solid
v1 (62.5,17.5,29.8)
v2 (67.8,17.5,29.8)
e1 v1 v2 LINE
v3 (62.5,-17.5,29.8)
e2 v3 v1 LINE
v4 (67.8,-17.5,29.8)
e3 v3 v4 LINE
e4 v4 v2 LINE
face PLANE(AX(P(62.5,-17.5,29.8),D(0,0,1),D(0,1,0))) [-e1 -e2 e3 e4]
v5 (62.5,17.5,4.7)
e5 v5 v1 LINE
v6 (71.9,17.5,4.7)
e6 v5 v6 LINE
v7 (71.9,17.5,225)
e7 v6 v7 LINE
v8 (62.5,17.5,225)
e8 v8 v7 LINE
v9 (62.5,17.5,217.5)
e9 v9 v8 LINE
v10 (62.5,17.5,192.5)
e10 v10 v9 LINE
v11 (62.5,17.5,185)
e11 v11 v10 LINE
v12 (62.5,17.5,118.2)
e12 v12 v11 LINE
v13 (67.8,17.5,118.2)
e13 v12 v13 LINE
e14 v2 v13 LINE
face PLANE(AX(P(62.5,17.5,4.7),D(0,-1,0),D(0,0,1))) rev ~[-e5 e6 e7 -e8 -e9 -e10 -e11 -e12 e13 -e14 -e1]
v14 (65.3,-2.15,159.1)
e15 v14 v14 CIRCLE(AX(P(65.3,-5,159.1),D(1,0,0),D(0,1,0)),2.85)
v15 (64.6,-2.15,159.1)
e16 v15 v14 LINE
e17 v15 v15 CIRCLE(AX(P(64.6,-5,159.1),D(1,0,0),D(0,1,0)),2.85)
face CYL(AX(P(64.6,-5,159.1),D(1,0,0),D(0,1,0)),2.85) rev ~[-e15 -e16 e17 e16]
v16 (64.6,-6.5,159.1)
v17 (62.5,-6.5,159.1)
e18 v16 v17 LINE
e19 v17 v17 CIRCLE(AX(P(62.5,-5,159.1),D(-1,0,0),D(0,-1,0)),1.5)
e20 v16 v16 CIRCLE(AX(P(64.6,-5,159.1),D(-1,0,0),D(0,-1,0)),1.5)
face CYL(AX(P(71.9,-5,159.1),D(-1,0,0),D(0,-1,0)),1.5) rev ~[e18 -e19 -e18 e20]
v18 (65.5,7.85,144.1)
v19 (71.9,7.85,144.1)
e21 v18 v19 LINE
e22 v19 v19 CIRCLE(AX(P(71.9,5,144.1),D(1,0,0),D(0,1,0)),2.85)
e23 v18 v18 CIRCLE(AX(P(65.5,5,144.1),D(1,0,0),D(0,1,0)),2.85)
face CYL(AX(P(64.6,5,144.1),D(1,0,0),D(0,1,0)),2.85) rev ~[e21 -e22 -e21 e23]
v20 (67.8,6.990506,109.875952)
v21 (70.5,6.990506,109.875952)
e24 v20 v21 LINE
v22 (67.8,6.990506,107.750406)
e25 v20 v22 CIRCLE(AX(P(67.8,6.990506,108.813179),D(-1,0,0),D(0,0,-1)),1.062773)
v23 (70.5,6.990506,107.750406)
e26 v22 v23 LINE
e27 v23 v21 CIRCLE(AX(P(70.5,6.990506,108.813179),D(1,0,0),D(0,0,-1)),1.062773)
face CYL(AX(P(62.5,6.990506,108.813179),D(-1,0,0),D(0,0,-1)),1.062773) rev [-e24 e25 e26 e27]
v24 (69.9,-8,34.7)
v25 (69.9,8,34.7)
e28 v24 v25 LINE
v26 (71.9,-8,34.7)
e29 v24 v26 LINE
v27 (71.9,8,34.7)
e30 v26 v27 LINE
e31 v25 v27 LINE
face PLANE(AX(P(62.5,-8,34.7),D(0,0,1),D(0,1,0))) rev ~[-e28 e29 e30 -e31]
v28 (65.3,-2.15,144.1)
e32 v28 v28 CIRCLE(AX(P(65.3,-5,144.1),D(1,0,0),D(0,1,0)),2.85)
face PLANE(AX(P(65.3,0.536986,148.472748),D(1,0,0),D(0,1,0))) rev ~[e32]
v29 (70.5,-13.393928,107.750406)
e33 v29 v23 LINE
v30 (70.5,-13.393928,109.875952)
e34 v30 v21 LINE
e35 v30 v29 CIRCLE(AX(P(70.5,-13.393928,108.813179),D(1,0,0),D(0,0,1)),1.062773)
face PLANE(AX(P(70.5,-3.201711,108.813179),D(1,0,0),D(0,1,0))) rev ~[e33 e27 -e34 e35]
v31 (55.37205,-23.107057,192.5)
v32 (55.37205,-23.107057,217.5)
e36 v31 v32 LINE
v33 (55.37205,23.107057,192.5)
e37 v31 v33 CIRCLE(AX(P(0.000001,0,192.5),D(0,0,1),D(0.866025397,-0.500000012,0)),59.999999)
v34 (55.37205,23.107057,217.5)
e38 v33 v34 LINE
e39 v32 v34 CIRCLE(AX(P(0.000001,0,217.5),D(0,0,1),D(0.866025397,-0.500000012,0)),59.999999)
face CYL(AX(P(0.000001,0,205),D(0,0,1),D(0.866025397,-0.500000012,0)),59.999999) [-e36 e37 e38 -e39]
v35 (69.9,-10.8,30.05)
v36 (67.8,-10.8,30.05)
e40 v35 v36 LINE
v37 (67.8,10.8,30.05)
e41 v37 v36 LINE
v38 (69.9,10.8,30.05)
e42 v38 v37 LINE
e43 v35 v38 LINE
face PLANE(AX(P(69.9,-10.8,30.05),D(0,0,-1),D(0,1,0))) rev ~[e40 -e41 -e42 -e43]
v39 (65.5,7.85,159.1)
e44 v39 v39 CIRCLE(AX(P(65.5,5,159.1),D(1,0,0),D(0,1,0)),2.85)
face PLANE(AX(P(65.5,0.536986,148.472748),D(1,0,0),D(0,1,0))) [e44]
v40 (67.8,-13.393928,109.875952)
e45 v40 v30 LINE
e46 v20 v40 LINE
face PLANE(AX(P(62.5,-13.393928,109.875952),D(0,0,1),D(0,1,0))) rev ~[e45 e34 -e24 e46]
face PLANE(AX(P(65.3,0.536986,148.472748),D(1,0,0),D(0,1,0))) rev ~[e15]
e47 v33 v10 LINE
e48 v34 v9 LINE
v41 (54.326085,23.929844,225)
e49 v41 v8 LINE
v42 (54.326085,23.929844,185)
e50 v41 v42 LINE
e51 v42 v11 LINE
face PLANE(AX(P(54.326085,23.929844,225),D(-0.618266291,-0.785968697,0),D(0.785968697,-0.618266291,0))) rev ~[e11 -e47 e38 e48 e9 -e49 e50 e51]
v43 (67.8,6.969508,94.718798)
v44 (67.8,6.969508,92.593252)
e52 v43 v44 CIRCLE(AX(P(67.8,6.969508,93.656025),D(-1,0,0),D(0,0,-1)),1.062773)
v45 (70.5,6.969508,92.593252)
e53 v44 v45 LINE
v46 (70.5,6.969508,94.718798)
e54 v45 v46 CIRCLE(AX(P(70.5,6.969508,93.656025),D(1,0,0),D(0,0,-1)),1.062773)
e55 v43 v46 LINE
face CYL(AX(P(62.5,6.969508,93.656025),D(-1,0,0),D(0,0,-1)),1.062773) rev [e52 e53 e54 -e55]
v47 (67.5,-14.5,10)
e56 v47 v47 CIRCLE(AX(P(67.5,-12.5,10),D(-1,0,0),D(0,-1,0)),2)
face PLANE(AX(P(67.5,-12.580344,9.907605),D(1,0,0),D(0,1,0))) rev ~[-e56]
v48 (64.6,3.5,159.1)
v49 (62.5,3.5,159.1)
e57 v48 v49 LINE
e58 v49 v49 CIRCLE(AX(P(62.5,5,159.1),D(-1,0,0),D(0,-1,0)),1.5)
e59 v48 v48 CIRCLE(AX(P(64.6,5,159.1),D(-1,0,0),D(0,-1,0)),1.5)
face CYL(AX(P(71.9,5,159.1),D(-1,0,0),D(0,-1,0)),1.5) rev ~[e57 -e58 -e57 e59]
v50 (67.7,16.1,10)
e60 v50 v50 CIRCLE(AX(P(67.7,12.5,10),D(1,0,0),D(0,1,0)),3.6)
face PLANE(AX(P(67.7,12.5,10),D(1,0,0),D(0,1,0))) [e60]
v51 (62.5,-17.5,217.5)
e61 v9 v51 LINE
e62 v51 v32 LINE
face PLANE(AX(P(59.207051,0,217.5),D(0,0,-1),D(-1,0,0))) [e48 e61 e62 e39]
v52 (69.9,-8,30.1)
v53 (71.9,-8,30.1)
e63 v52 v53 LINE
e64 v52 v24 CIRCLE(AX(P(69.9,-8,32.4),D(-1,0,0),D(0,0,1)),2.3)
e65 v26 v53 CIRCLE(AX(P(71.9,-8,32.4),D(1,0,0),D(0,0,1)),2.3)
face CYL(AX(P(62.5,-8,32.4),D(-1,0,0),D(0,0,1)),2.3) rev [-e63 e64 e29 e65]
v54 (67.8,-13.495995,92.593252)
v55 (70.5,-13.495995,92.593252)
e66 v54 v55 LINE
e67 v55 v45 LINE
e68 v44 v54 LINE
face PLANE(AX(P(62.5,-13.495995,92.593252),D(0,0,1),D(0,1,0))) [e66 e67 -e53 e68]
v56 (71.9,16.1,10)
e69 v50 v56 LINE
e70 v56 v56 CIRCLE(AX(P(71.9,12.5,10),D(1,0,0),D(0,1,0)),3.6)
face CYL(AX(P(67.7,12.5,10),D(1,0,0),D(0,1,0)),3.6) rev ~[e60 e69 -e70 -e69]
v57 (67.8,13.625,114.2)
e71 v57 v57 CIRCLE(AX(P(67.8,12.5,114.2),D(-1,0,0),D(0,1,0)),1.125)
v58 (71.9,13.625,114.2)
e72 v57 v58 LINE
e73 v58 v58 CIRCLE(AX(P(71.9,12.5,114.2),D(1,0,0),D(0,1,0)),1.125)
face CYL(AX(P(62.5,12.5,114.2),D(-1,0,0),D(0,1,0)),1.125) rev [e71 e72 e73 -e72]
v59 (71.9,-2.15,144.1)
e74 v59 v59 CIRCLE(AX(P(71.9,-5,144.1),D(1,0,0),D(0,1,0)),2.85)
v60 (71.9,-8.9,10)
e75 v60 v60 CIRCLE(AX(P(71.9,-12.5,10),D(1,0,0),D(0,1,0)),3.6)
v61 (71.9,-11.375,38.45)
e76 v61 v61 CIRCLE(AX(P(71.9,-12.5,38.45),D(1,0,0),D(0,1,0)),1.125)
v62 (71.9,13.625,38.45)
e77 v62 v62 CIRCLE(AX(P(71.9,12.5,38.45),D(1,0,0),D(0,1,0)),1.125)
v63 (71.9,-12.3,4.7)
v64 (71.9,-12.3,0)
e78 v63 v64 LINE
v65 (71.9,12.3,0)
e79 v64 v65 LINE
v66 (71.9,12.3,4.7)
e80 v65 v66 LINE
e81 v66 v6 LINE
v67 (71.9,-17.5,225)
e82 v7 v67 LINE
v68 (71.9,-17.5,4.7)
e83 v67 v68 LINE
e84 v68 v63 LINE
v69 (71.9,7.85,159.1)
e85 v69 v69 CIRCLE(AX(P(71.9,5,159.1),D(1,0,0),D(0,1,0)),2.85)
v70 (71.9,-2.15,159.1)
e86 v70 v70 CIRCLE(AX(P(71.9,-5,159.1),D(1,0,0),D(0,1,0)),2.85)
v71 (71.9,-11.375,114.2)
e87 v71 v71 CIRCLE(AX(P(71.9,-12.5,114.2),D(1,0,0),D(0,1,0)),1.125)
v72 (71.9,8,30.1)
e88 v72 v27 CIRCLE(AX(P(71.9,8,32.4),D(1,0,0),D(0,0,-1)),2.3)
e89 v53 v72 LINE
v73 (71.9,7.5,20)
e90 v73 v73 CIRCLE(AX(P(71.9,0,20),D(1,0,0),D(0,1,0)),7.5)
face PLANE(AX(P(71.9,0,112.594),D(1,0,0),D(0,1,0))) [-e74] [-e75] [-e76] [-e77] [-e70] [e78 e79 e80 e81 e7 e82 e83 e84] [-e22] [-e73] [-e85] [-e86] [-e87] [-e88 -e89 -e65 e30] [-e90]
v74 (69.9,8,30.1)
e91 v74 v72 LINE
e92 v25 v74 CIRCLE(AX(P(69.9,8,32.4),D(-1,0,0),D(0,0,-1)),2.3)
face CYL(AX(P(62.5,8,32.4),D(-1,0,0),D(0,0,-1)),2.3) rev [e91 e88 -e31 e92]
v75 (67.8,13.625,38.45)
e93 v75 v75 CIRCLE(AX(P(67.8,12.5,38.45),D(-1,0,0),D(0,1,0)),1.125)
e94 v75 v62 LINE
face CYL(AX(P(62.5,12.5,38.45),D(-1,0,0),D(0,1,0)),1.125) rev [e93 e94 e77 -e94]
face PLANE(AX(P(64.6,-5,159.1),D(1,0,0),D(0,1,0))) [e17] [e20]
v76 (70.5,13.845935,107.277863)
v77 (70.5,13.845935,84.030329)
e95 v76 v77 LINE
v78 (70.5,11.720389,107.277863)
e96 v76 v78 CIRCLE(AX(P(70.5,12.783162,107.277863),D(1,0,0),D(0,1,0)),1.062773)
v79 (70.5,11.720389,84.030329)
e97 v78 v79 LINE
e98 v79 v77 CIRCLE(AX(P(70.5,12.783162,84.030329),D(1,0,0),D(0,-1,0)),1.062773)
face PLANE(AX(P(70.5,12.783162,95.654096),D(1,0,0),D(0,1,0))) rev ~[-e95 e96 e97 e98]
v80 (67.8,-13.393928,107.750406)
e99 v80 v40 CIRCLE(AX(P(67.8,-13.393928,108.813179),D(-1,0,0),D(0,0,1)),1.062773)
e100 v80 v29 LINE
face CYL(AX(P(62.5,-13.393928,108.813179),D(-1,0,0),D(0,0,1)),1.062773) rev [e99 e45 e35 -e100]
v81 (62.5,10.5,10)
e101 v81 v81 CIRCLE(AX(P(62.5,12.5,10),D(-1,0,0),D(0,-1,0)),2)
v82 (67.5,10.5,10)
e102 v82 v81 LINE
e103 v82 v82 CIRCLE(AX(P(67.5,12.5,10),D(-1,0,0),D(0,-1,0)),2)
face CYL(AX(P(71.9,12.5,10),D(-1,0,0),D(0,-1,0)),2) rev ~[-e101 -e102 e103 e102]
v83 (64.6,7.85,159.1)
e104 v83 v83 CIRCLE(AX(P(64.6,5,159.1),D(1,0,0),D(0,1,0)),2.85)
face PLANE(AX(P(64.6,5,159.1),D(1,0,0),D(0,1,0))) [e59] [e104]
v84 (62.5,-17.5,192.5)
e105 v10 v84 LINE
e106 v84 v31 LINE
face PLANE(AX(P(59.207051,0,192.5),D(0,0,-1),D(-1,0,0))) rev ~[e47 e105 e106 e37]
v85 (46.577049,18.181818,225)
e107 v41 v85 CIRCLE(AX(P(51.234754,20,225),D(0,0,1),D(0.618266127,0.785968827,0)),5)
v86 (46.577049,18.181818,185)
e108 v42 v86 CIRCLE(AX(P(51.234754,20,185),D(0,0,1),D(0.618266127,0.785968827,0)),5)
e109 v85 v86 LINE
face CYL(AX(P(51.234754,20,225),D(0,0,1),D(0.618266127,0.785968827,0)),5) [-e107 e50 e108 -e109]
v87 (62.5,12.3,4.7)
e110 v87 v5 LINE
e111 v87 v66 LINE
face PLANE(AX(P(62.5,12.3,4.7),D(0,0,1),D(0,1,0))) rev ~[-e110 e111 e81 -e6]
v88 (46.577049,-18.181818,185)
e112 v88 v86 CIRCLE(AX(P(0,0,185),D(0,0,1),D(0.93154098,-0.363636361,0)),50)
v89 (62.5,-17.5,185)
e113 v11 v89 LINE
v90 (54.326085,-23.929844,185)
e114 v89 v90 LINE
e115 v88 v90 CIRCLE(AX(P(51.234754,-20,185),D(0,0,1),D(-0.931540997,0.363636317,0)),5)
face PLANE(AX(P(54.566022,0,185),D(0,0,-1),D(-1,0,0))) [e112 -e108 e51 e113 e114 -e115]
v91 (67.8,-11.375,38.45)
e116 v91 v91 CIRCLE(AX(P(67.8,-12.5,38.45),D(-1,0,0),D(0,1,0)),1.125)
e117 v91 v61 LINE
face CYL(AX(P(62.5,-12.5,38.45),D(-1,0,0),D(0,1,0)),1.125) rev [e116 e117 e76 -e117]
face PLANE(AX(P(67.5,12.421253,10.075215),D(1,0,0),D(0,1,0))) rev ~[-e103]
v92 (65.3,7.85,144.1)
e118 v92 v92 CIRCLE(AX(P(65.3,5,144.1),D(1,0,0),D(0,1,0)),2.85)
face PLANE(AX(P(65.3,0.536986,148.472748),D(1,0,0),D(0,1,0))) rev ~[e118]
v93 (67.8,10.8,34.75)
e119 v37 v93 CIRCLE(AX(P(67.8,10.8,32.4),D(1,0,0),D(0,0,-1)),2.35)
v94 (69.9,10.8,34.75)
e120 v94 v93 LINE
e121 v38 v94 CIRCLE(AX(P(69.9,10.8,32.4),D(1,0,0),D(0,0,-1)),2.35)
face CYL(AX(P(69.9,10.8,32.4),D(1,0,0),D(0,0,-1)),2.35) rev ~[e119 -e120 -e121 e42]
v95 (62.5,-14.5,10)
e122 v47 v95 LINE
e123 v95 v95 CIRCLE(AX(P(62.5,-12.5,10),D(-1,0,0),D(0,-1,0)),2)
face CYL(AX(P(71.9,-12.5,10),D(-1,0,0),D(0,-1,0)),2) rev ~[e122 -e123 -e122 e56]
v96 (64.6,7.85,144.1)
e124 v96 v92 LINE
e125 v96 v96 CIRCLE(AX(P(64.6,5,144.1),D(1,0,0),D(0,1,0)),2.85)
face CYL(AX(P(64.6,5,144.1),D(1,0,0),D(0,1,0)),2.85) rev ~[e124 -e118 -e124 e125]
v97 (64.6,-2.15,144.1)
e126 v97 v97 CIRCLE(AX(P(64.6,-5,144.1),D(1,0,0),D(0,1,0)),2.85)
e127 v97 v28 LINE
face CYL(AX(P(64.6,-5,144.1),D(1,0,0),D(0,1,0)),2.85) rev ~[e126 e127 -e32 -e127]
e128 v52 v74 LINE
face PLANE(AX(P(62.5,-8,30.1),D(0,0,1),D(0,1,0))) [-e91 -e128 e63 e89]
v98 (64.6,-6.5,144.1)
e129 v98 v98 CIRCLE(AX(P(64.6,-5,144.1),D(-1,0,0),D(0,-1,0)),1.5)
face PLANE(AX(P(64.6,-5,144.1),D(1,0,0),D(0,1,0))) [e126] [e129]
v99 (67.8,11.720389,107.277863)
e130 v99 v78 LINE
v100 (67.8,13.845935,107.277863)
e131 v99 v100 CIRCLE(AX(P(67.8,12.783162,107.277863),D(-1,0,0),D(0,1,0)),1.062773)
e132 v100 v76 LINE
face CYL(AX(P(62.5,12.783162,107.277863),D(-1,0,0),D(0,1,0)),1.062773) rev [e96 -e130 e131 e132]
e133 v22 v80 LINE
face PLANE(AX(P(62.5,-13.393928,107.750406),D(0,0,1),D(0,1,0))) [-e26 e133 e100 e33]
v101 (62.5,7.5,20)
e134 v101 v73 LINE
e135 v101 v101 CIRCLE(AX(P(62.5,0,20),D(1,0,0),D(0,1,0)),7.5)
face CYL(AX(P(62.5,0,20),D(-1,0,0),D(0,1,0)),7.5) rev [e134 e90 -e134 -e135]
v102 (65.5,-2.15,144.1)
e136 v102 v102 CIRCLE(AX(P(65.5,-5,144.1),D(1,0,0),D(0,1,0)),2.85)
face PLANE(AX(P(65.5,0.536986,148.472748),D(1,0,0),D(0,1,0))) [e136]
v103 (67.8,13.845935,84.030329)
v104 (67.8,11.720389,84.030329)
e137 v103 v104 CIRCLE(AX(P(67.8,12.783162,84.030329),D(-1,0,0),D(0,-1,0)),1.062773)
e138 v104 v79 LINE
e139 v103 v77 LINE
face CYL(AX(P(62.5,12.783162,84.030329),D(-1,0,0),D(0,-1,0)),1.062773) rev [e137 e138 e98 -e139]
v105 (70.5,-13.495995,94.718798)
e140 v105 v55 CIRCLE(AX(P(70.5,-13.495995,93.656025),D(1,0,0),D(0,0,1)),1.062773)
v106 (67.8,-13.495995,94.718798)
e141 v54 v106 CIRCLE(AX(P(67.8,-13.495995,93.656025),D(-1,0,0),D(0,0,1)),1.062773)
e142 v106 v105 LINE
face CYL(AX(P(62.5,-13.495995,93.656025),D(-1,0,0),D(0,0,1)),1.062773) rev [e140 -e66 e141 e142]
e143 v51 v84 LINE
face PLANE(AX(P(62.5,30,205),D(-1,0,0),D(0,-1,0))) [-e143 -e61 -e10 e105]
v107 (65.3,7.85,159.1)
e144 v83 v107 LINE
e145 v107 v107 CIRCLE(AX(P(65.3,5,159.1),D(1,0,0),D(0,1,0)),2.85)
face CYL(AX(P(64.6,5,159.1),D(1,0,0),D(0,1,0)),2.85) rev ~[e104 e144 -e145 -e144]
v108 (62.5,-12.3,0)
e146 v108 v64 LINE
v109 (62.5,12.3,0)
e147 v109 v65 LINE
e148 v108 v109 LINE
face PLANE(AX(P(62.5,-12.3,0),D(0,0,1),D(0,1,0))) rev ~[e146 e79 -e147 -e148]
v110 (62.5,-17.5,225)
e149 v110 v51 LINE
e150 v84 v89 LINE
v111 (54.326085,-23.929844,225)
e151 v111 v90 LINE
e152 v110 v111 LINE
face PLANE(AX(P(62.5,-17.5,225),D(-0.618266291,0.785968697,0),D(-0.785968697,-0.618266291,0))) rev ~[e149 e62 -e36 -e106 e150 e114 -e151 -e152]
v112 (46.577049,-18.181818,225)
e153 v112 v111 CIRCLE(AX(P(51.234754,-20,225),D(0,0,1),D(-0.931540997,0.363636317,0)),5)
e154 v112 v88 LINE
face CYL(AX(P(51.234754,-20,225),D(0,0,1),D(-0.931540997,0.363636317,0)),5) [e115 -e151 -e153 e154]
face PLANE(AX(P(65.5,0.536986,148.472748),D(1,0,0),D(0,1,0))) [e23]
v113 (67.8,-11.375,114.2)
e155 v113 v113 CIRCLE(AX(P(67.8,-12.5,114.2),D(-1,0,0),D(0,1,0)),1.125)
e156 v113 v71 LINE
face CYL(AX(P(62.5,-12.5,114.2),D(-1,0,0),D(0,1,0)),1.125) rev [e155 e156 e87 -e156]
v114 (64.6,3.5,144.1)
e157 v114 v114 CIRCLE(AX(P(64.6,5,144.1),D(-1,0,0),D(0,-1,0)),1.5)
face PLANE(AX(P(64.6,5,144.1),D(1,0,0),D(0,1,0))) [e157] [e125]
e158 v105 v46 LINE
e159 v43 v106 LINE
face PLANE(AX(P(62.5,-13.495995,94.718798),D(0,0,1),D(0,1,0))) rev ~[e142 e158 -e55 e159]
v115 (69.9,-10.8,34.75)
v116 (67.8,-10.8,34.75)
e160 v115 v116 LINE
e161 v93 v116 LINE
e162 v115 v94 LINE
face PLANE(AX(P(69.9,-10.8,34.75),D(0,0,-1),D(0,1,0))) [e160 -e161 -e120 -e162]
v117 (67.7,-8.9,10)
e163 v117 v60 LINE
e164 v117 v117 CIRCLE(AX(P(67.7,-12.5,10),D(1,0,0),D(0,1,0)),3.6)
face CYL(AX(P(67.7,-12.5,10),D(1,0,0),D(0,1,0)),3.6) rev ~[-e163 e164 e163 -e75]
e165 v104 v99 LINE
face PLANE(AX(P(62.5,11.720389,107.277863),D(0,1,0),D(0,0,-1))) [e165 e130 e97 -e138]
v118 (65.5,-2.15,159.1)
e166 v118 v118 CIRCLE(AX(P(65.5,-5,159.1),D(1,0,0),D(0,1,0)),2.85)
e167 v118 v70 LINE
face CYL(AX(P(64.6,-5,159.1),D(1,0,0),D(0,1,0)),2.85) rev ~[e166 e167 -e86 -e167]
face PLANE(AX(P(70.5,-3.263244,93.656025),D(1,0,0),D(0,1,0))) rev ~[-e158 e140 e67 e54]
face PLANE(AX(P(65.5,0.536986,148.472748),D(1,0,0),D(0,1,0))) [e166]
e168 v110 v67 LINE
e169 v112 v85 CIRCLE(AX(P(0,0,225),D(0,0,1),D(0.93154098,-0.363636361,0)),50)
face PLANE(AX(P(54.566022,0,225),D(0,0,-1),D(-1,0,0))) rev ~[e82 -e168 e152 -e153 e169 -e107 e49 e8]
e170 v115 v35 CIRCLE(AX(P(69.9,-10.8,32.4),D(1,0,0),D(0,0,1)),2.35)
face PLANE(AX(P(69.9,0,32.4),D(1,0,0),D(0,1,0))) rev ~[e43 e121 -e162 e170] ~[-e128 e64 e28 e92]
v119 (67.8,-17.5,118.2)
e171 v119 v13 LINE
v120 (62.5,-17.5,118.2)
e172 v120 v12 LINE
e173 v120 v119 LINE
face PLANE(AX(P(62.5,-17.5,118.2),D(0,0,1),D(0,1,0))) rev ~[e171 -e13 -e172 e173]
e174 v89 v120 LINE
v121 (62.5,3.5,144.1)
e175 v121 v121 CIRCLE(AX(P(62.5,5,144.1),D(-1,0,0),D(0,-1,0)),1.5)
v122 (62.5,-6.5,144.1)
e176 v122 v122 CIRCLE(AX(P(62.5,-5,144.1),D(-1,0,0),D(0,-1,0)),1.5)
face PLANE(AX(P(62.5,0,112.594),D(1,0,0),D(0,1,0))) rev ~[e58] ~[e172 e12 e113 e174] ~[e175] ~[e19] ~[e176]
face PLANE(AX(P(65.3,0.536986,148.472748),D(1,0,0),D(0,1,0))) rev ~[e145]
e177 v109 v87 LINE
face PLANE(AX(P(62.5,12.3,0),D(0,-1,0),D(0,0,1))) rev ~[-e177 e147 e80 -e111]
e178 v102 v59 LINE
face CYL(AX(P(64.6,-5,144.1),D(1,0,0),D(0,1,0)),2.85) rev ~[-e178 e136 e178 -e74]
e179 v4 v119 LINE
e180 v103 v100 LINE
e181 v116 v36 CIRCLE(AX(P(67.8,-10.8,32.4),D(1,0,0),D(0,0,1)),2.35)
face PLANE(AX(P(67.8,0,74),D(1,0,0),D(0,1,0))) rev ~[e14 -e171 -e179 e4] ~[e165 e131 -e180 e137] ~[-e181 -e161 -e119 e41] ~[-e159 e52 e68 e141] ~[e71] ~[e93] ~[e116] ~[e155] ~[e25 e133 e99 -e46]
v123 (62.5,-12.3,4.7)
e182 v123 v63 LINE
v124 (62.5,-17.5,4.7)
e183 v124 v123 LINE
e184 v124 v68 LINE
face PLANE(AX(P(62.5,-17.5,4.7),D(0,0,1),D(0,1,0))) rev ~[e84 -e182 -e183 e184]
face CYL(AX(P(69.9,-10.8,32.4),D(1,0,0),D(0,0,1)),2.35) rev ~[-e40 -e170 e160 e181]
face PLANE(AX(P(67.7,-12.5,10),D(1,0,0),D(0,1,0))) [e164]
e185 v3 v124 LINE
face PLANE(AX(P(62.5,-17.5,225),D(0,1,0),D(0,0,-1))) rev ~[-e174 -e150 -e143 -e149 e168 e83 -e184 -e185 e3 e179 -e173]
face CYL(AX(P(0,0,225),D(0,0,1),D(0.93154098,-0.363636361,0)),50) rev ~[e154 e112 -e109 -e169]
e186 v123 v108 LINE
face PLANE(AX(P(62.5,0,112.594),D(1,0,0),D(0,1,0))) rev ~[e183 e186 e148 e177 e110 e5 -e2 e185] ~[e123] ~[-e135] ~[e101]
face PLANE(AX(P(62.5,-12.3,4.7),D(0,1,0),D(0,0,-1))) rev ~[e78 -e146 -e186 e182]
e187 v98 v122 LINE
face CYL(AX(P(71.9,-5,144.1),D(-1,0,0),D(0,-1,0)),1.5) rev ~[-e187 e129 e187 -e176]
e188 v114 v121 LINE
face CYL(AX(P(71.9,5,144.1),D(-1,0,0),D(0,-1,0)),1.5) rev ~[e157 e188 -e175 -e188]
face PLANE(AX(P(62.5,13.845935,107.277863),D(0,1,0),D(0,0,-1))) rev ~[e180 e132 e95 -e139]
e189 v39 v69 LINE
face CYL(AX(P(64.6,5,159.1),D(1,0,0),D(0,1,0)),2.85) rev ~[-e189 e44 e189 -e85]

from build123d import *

# Parameters (mm, degrees)
SKETCH022_R         = 7.5
SKETCH022_R_2       = 1.125
PAD002_DEPTH        = 9.4
HOLE007_D           = 4
HOLE007_CBORE_D     = 7.2
HOLE007_CBORE_DEPTH = 4.2
POCKET005_DEPTH     = 5
PAD003_DEPTH        = 40
POCKET006_DEPTH     = 12.5
SKETCH030_W         = 35
SKETCH030_H         = 88.4
POCKET008_DEPTH     = 5.3
POCKET009_DEPTH     = 8
HOLE008_D           = 3
HOLE008_CBORE_D     = 5.7
HOLE008_CBORE_DEPTH = 7.3
SKETCH037_W         = 24.504541
SKETCH037_H         = 35.450562
PAD004_DEPTH        = 0.2
SKETCH038_R         = 4.614907
SKETCH038_R_2       = 4.035565
PAD005_DEPTH        = 0.2


with BuildPart() as part:
    # Sketch022 → Pad002 (new body)
    with BuildSketch(Plane.YZ.offset(62.5)):
        Polygon((-17.5, 225), (-17.5, 4.7), (-12.3, 4.7), (-12.3, 0), (12.3, 0), (12.3, 4.7), (17.5, 4.7), (17.5, 225), align=None)
        with Locations((0, 20)):
            Circle(SKETCH022_R, mode=Mode.SUBTRACT)
        with Locations((-12.5, 114.2)):
            Circle(SKETCH022_R_2, mode=Mode.SUBTRACT)
        with Locations((12.5, 114.2)):
            Circle(SKETCH022_R_2, mode=Mode.SUBTRACT)
        with Locations((-12.5, 38.45)):
            Circle(SKETCH022_R_2, mode=Mode.SUBTRACT)
        with Locations((12.5, 38.45)):
            Circle(SKETCH022_R_2, mode=Mode.SUBTRACT)
        with BuildLine():
            ThreePointArc((-8, 34.7), (-10.3, 32.4), (-8, 30.1))
            Line((-8, 30.1), (8, 30.1))
            ThreePointArc((8, 30.1), (10.3, 32.4), (8, 34.7))
            Line((-8, 34.7), (8, 34.7))
        make_face(mode=Mode.SUBTRACT)
    extrude(amount=PAD002_DEPTH)

    # Hole007 (through all)
    with Locations(Plane.YZ.offset(71.9)):
        with Locations((-12.5, 10), (12.5, 10)):
            CounterBoreHole(HOLE007_D / 2, HOLE007_CBORE_D / 2, HOLE007_CBORE_DEPTH)

    # Sketch026 → Pocket005 (cut)
    with BuildSketch(Plane.YZ.offset(69.9)):
        with BuildLine():
            ThreePointArc((-10.8, 34.75), (-13.15, 32.4), (-10.8, 30.05))
            Line((-10.8, 30.05), (10.8, 30.05))
            ThreePointArc((10.8, 30.05), (13.15, 32.4), (10.8, 34.75))
            Line((-10.8, 34.75), (10.8, 34.75))
        make_face()
    extrude(amount=-POCKET005_DEPTH, mode=Mode.SUBTRACT)

    # Sketch027 → Pad003 (join)
    with BuildSketch(Plane.XY.offset(225)):
        with BuildLine():
            ThreePointArc((46.577049, -18.181818), (50, 0), (46.577049, 18.181818))
            ThreePointArc((54.326085, 23.929844), (48.25594, 24.015802), (46.577049, 18.181818))
            Line((54.326085, 23.929844), (62.5, 17.5))
            Line((62.5, 17.5), (62.5, -17.5))
            Line((62.5, -17.5), (54.326085, -23.929844))
            ThreePointArc((46.577049, -18.181818), (48.25594, -24.015802), (54.326085, -23.929844))
        make_face()
    extrude(amount=-PAD003_DEPTH)

    # Sketch028 → Pocket006 (cut, symmetric)
    with BuildSketch(Plane.XY.offset(205)):
        with BuildLine():
            ThreePointArc((51.961524, -30), (60, 0), (51.961524, 30))
            Line((51.961524, 30), (62.5, 30))
            Line((62.5, 30), (62.5, -30))
            Line((62.5, -30), (51.961524, -30))
        make_face()
    extrude(amount=POCKET006_DEPTH, both=True, mode=Mode.SUBTRACT)

    # Sketch030 → Pocket008 (cut)
    with BuildSketch(Plane.YZ.offset(62.5)):
        with Locations((0, 74)):
            Rectangle(SKETCH030_W, SKETCH030_H)
    extrude(amount=POCKET008_DEPTH, mode=Mode.SUBTRACT)

    # Sketch031 → Pocket009 (cut)
    with BuildSketch(Plane.YZ.offset(62.5)):
        with BuildLine():
            ThreePointArc((13.845935, 107.277863), (12.783162, 108.340636), (11.720389, 107.277863))
            Line((11.720389, 107.277863), (11.720389, 84.030329))
            ThreePointArc((11.720389, 84.030329), (12.783162, 82.967556), (13.845935, 84.030329))
            Line((13.845935, 107.277863), (13.845935, 84.030329))
        make_face()
        with BuildLine():
            ThreePointArc((-13.393928, 109.875952), (-14.456701, 108.813179), (-13.393928, 107.750406))
            Line((-13.393928, 107.750406), (6.990506, 107.750406))
            ThreePointArc((6.990506, 107.750406), (8.053279, 108.813179), (6.990506, 109.875952))
            Line((-13.393928, 109.875952), (6.990506, 109.875952))
        make_face()
        with BuildLine():
            ThreePointArc((-13.495995, 94.718798), (-14.558768, 93.656025), (-13.495995, 92.593252))
            Line((-13.495995, 92.593252), (6.969508, 92.593252))
            ThreePointArc((6.969508, 92.593252), (8.032281, 93.656025), (6.969508, 94.718798))
            Line((-13.495995, 94.718798), (6.969508, 94.718798))
        make_face()
    extrude(amount=POCKET009_DEPTH, mode=Mode.SUBTRACT)

    # Hole008 (through all)
    with Locations(Plane.YZ.offset(71.9)):
        with Locations((-5, 159.1), (5, 159.1), (5, 144.1), (-5, 144.1)):
            CounterBoreHole(HOLE008_D / 2, HOLE008_CBORE_D / 2, HOLE008_CBORE_DEPTH)

    # Sketch037 → Pad004 (join)
    with BuildSketch(Plane.YZ.offset(65.5)):
        with Locations((0.536986, 148.472748)):
            Rectangle(SKETCH037_W, SKETCH037_H)
    extrude(amount=-PAD004_DEPTH)

    # Sketch038 → Pad005 (join)
    with BuildSketch(Plane.YZ.offset(67.7)):
        with Locations((-12.580344, 9.907605)):
            Circle(SKETCH038_R)
        with Locations((12.421253, 10.075215)):
            Circle(SKETCH038_R_2)
    extrude(amount=-PAD005_DEPTH)


solid = part.part
